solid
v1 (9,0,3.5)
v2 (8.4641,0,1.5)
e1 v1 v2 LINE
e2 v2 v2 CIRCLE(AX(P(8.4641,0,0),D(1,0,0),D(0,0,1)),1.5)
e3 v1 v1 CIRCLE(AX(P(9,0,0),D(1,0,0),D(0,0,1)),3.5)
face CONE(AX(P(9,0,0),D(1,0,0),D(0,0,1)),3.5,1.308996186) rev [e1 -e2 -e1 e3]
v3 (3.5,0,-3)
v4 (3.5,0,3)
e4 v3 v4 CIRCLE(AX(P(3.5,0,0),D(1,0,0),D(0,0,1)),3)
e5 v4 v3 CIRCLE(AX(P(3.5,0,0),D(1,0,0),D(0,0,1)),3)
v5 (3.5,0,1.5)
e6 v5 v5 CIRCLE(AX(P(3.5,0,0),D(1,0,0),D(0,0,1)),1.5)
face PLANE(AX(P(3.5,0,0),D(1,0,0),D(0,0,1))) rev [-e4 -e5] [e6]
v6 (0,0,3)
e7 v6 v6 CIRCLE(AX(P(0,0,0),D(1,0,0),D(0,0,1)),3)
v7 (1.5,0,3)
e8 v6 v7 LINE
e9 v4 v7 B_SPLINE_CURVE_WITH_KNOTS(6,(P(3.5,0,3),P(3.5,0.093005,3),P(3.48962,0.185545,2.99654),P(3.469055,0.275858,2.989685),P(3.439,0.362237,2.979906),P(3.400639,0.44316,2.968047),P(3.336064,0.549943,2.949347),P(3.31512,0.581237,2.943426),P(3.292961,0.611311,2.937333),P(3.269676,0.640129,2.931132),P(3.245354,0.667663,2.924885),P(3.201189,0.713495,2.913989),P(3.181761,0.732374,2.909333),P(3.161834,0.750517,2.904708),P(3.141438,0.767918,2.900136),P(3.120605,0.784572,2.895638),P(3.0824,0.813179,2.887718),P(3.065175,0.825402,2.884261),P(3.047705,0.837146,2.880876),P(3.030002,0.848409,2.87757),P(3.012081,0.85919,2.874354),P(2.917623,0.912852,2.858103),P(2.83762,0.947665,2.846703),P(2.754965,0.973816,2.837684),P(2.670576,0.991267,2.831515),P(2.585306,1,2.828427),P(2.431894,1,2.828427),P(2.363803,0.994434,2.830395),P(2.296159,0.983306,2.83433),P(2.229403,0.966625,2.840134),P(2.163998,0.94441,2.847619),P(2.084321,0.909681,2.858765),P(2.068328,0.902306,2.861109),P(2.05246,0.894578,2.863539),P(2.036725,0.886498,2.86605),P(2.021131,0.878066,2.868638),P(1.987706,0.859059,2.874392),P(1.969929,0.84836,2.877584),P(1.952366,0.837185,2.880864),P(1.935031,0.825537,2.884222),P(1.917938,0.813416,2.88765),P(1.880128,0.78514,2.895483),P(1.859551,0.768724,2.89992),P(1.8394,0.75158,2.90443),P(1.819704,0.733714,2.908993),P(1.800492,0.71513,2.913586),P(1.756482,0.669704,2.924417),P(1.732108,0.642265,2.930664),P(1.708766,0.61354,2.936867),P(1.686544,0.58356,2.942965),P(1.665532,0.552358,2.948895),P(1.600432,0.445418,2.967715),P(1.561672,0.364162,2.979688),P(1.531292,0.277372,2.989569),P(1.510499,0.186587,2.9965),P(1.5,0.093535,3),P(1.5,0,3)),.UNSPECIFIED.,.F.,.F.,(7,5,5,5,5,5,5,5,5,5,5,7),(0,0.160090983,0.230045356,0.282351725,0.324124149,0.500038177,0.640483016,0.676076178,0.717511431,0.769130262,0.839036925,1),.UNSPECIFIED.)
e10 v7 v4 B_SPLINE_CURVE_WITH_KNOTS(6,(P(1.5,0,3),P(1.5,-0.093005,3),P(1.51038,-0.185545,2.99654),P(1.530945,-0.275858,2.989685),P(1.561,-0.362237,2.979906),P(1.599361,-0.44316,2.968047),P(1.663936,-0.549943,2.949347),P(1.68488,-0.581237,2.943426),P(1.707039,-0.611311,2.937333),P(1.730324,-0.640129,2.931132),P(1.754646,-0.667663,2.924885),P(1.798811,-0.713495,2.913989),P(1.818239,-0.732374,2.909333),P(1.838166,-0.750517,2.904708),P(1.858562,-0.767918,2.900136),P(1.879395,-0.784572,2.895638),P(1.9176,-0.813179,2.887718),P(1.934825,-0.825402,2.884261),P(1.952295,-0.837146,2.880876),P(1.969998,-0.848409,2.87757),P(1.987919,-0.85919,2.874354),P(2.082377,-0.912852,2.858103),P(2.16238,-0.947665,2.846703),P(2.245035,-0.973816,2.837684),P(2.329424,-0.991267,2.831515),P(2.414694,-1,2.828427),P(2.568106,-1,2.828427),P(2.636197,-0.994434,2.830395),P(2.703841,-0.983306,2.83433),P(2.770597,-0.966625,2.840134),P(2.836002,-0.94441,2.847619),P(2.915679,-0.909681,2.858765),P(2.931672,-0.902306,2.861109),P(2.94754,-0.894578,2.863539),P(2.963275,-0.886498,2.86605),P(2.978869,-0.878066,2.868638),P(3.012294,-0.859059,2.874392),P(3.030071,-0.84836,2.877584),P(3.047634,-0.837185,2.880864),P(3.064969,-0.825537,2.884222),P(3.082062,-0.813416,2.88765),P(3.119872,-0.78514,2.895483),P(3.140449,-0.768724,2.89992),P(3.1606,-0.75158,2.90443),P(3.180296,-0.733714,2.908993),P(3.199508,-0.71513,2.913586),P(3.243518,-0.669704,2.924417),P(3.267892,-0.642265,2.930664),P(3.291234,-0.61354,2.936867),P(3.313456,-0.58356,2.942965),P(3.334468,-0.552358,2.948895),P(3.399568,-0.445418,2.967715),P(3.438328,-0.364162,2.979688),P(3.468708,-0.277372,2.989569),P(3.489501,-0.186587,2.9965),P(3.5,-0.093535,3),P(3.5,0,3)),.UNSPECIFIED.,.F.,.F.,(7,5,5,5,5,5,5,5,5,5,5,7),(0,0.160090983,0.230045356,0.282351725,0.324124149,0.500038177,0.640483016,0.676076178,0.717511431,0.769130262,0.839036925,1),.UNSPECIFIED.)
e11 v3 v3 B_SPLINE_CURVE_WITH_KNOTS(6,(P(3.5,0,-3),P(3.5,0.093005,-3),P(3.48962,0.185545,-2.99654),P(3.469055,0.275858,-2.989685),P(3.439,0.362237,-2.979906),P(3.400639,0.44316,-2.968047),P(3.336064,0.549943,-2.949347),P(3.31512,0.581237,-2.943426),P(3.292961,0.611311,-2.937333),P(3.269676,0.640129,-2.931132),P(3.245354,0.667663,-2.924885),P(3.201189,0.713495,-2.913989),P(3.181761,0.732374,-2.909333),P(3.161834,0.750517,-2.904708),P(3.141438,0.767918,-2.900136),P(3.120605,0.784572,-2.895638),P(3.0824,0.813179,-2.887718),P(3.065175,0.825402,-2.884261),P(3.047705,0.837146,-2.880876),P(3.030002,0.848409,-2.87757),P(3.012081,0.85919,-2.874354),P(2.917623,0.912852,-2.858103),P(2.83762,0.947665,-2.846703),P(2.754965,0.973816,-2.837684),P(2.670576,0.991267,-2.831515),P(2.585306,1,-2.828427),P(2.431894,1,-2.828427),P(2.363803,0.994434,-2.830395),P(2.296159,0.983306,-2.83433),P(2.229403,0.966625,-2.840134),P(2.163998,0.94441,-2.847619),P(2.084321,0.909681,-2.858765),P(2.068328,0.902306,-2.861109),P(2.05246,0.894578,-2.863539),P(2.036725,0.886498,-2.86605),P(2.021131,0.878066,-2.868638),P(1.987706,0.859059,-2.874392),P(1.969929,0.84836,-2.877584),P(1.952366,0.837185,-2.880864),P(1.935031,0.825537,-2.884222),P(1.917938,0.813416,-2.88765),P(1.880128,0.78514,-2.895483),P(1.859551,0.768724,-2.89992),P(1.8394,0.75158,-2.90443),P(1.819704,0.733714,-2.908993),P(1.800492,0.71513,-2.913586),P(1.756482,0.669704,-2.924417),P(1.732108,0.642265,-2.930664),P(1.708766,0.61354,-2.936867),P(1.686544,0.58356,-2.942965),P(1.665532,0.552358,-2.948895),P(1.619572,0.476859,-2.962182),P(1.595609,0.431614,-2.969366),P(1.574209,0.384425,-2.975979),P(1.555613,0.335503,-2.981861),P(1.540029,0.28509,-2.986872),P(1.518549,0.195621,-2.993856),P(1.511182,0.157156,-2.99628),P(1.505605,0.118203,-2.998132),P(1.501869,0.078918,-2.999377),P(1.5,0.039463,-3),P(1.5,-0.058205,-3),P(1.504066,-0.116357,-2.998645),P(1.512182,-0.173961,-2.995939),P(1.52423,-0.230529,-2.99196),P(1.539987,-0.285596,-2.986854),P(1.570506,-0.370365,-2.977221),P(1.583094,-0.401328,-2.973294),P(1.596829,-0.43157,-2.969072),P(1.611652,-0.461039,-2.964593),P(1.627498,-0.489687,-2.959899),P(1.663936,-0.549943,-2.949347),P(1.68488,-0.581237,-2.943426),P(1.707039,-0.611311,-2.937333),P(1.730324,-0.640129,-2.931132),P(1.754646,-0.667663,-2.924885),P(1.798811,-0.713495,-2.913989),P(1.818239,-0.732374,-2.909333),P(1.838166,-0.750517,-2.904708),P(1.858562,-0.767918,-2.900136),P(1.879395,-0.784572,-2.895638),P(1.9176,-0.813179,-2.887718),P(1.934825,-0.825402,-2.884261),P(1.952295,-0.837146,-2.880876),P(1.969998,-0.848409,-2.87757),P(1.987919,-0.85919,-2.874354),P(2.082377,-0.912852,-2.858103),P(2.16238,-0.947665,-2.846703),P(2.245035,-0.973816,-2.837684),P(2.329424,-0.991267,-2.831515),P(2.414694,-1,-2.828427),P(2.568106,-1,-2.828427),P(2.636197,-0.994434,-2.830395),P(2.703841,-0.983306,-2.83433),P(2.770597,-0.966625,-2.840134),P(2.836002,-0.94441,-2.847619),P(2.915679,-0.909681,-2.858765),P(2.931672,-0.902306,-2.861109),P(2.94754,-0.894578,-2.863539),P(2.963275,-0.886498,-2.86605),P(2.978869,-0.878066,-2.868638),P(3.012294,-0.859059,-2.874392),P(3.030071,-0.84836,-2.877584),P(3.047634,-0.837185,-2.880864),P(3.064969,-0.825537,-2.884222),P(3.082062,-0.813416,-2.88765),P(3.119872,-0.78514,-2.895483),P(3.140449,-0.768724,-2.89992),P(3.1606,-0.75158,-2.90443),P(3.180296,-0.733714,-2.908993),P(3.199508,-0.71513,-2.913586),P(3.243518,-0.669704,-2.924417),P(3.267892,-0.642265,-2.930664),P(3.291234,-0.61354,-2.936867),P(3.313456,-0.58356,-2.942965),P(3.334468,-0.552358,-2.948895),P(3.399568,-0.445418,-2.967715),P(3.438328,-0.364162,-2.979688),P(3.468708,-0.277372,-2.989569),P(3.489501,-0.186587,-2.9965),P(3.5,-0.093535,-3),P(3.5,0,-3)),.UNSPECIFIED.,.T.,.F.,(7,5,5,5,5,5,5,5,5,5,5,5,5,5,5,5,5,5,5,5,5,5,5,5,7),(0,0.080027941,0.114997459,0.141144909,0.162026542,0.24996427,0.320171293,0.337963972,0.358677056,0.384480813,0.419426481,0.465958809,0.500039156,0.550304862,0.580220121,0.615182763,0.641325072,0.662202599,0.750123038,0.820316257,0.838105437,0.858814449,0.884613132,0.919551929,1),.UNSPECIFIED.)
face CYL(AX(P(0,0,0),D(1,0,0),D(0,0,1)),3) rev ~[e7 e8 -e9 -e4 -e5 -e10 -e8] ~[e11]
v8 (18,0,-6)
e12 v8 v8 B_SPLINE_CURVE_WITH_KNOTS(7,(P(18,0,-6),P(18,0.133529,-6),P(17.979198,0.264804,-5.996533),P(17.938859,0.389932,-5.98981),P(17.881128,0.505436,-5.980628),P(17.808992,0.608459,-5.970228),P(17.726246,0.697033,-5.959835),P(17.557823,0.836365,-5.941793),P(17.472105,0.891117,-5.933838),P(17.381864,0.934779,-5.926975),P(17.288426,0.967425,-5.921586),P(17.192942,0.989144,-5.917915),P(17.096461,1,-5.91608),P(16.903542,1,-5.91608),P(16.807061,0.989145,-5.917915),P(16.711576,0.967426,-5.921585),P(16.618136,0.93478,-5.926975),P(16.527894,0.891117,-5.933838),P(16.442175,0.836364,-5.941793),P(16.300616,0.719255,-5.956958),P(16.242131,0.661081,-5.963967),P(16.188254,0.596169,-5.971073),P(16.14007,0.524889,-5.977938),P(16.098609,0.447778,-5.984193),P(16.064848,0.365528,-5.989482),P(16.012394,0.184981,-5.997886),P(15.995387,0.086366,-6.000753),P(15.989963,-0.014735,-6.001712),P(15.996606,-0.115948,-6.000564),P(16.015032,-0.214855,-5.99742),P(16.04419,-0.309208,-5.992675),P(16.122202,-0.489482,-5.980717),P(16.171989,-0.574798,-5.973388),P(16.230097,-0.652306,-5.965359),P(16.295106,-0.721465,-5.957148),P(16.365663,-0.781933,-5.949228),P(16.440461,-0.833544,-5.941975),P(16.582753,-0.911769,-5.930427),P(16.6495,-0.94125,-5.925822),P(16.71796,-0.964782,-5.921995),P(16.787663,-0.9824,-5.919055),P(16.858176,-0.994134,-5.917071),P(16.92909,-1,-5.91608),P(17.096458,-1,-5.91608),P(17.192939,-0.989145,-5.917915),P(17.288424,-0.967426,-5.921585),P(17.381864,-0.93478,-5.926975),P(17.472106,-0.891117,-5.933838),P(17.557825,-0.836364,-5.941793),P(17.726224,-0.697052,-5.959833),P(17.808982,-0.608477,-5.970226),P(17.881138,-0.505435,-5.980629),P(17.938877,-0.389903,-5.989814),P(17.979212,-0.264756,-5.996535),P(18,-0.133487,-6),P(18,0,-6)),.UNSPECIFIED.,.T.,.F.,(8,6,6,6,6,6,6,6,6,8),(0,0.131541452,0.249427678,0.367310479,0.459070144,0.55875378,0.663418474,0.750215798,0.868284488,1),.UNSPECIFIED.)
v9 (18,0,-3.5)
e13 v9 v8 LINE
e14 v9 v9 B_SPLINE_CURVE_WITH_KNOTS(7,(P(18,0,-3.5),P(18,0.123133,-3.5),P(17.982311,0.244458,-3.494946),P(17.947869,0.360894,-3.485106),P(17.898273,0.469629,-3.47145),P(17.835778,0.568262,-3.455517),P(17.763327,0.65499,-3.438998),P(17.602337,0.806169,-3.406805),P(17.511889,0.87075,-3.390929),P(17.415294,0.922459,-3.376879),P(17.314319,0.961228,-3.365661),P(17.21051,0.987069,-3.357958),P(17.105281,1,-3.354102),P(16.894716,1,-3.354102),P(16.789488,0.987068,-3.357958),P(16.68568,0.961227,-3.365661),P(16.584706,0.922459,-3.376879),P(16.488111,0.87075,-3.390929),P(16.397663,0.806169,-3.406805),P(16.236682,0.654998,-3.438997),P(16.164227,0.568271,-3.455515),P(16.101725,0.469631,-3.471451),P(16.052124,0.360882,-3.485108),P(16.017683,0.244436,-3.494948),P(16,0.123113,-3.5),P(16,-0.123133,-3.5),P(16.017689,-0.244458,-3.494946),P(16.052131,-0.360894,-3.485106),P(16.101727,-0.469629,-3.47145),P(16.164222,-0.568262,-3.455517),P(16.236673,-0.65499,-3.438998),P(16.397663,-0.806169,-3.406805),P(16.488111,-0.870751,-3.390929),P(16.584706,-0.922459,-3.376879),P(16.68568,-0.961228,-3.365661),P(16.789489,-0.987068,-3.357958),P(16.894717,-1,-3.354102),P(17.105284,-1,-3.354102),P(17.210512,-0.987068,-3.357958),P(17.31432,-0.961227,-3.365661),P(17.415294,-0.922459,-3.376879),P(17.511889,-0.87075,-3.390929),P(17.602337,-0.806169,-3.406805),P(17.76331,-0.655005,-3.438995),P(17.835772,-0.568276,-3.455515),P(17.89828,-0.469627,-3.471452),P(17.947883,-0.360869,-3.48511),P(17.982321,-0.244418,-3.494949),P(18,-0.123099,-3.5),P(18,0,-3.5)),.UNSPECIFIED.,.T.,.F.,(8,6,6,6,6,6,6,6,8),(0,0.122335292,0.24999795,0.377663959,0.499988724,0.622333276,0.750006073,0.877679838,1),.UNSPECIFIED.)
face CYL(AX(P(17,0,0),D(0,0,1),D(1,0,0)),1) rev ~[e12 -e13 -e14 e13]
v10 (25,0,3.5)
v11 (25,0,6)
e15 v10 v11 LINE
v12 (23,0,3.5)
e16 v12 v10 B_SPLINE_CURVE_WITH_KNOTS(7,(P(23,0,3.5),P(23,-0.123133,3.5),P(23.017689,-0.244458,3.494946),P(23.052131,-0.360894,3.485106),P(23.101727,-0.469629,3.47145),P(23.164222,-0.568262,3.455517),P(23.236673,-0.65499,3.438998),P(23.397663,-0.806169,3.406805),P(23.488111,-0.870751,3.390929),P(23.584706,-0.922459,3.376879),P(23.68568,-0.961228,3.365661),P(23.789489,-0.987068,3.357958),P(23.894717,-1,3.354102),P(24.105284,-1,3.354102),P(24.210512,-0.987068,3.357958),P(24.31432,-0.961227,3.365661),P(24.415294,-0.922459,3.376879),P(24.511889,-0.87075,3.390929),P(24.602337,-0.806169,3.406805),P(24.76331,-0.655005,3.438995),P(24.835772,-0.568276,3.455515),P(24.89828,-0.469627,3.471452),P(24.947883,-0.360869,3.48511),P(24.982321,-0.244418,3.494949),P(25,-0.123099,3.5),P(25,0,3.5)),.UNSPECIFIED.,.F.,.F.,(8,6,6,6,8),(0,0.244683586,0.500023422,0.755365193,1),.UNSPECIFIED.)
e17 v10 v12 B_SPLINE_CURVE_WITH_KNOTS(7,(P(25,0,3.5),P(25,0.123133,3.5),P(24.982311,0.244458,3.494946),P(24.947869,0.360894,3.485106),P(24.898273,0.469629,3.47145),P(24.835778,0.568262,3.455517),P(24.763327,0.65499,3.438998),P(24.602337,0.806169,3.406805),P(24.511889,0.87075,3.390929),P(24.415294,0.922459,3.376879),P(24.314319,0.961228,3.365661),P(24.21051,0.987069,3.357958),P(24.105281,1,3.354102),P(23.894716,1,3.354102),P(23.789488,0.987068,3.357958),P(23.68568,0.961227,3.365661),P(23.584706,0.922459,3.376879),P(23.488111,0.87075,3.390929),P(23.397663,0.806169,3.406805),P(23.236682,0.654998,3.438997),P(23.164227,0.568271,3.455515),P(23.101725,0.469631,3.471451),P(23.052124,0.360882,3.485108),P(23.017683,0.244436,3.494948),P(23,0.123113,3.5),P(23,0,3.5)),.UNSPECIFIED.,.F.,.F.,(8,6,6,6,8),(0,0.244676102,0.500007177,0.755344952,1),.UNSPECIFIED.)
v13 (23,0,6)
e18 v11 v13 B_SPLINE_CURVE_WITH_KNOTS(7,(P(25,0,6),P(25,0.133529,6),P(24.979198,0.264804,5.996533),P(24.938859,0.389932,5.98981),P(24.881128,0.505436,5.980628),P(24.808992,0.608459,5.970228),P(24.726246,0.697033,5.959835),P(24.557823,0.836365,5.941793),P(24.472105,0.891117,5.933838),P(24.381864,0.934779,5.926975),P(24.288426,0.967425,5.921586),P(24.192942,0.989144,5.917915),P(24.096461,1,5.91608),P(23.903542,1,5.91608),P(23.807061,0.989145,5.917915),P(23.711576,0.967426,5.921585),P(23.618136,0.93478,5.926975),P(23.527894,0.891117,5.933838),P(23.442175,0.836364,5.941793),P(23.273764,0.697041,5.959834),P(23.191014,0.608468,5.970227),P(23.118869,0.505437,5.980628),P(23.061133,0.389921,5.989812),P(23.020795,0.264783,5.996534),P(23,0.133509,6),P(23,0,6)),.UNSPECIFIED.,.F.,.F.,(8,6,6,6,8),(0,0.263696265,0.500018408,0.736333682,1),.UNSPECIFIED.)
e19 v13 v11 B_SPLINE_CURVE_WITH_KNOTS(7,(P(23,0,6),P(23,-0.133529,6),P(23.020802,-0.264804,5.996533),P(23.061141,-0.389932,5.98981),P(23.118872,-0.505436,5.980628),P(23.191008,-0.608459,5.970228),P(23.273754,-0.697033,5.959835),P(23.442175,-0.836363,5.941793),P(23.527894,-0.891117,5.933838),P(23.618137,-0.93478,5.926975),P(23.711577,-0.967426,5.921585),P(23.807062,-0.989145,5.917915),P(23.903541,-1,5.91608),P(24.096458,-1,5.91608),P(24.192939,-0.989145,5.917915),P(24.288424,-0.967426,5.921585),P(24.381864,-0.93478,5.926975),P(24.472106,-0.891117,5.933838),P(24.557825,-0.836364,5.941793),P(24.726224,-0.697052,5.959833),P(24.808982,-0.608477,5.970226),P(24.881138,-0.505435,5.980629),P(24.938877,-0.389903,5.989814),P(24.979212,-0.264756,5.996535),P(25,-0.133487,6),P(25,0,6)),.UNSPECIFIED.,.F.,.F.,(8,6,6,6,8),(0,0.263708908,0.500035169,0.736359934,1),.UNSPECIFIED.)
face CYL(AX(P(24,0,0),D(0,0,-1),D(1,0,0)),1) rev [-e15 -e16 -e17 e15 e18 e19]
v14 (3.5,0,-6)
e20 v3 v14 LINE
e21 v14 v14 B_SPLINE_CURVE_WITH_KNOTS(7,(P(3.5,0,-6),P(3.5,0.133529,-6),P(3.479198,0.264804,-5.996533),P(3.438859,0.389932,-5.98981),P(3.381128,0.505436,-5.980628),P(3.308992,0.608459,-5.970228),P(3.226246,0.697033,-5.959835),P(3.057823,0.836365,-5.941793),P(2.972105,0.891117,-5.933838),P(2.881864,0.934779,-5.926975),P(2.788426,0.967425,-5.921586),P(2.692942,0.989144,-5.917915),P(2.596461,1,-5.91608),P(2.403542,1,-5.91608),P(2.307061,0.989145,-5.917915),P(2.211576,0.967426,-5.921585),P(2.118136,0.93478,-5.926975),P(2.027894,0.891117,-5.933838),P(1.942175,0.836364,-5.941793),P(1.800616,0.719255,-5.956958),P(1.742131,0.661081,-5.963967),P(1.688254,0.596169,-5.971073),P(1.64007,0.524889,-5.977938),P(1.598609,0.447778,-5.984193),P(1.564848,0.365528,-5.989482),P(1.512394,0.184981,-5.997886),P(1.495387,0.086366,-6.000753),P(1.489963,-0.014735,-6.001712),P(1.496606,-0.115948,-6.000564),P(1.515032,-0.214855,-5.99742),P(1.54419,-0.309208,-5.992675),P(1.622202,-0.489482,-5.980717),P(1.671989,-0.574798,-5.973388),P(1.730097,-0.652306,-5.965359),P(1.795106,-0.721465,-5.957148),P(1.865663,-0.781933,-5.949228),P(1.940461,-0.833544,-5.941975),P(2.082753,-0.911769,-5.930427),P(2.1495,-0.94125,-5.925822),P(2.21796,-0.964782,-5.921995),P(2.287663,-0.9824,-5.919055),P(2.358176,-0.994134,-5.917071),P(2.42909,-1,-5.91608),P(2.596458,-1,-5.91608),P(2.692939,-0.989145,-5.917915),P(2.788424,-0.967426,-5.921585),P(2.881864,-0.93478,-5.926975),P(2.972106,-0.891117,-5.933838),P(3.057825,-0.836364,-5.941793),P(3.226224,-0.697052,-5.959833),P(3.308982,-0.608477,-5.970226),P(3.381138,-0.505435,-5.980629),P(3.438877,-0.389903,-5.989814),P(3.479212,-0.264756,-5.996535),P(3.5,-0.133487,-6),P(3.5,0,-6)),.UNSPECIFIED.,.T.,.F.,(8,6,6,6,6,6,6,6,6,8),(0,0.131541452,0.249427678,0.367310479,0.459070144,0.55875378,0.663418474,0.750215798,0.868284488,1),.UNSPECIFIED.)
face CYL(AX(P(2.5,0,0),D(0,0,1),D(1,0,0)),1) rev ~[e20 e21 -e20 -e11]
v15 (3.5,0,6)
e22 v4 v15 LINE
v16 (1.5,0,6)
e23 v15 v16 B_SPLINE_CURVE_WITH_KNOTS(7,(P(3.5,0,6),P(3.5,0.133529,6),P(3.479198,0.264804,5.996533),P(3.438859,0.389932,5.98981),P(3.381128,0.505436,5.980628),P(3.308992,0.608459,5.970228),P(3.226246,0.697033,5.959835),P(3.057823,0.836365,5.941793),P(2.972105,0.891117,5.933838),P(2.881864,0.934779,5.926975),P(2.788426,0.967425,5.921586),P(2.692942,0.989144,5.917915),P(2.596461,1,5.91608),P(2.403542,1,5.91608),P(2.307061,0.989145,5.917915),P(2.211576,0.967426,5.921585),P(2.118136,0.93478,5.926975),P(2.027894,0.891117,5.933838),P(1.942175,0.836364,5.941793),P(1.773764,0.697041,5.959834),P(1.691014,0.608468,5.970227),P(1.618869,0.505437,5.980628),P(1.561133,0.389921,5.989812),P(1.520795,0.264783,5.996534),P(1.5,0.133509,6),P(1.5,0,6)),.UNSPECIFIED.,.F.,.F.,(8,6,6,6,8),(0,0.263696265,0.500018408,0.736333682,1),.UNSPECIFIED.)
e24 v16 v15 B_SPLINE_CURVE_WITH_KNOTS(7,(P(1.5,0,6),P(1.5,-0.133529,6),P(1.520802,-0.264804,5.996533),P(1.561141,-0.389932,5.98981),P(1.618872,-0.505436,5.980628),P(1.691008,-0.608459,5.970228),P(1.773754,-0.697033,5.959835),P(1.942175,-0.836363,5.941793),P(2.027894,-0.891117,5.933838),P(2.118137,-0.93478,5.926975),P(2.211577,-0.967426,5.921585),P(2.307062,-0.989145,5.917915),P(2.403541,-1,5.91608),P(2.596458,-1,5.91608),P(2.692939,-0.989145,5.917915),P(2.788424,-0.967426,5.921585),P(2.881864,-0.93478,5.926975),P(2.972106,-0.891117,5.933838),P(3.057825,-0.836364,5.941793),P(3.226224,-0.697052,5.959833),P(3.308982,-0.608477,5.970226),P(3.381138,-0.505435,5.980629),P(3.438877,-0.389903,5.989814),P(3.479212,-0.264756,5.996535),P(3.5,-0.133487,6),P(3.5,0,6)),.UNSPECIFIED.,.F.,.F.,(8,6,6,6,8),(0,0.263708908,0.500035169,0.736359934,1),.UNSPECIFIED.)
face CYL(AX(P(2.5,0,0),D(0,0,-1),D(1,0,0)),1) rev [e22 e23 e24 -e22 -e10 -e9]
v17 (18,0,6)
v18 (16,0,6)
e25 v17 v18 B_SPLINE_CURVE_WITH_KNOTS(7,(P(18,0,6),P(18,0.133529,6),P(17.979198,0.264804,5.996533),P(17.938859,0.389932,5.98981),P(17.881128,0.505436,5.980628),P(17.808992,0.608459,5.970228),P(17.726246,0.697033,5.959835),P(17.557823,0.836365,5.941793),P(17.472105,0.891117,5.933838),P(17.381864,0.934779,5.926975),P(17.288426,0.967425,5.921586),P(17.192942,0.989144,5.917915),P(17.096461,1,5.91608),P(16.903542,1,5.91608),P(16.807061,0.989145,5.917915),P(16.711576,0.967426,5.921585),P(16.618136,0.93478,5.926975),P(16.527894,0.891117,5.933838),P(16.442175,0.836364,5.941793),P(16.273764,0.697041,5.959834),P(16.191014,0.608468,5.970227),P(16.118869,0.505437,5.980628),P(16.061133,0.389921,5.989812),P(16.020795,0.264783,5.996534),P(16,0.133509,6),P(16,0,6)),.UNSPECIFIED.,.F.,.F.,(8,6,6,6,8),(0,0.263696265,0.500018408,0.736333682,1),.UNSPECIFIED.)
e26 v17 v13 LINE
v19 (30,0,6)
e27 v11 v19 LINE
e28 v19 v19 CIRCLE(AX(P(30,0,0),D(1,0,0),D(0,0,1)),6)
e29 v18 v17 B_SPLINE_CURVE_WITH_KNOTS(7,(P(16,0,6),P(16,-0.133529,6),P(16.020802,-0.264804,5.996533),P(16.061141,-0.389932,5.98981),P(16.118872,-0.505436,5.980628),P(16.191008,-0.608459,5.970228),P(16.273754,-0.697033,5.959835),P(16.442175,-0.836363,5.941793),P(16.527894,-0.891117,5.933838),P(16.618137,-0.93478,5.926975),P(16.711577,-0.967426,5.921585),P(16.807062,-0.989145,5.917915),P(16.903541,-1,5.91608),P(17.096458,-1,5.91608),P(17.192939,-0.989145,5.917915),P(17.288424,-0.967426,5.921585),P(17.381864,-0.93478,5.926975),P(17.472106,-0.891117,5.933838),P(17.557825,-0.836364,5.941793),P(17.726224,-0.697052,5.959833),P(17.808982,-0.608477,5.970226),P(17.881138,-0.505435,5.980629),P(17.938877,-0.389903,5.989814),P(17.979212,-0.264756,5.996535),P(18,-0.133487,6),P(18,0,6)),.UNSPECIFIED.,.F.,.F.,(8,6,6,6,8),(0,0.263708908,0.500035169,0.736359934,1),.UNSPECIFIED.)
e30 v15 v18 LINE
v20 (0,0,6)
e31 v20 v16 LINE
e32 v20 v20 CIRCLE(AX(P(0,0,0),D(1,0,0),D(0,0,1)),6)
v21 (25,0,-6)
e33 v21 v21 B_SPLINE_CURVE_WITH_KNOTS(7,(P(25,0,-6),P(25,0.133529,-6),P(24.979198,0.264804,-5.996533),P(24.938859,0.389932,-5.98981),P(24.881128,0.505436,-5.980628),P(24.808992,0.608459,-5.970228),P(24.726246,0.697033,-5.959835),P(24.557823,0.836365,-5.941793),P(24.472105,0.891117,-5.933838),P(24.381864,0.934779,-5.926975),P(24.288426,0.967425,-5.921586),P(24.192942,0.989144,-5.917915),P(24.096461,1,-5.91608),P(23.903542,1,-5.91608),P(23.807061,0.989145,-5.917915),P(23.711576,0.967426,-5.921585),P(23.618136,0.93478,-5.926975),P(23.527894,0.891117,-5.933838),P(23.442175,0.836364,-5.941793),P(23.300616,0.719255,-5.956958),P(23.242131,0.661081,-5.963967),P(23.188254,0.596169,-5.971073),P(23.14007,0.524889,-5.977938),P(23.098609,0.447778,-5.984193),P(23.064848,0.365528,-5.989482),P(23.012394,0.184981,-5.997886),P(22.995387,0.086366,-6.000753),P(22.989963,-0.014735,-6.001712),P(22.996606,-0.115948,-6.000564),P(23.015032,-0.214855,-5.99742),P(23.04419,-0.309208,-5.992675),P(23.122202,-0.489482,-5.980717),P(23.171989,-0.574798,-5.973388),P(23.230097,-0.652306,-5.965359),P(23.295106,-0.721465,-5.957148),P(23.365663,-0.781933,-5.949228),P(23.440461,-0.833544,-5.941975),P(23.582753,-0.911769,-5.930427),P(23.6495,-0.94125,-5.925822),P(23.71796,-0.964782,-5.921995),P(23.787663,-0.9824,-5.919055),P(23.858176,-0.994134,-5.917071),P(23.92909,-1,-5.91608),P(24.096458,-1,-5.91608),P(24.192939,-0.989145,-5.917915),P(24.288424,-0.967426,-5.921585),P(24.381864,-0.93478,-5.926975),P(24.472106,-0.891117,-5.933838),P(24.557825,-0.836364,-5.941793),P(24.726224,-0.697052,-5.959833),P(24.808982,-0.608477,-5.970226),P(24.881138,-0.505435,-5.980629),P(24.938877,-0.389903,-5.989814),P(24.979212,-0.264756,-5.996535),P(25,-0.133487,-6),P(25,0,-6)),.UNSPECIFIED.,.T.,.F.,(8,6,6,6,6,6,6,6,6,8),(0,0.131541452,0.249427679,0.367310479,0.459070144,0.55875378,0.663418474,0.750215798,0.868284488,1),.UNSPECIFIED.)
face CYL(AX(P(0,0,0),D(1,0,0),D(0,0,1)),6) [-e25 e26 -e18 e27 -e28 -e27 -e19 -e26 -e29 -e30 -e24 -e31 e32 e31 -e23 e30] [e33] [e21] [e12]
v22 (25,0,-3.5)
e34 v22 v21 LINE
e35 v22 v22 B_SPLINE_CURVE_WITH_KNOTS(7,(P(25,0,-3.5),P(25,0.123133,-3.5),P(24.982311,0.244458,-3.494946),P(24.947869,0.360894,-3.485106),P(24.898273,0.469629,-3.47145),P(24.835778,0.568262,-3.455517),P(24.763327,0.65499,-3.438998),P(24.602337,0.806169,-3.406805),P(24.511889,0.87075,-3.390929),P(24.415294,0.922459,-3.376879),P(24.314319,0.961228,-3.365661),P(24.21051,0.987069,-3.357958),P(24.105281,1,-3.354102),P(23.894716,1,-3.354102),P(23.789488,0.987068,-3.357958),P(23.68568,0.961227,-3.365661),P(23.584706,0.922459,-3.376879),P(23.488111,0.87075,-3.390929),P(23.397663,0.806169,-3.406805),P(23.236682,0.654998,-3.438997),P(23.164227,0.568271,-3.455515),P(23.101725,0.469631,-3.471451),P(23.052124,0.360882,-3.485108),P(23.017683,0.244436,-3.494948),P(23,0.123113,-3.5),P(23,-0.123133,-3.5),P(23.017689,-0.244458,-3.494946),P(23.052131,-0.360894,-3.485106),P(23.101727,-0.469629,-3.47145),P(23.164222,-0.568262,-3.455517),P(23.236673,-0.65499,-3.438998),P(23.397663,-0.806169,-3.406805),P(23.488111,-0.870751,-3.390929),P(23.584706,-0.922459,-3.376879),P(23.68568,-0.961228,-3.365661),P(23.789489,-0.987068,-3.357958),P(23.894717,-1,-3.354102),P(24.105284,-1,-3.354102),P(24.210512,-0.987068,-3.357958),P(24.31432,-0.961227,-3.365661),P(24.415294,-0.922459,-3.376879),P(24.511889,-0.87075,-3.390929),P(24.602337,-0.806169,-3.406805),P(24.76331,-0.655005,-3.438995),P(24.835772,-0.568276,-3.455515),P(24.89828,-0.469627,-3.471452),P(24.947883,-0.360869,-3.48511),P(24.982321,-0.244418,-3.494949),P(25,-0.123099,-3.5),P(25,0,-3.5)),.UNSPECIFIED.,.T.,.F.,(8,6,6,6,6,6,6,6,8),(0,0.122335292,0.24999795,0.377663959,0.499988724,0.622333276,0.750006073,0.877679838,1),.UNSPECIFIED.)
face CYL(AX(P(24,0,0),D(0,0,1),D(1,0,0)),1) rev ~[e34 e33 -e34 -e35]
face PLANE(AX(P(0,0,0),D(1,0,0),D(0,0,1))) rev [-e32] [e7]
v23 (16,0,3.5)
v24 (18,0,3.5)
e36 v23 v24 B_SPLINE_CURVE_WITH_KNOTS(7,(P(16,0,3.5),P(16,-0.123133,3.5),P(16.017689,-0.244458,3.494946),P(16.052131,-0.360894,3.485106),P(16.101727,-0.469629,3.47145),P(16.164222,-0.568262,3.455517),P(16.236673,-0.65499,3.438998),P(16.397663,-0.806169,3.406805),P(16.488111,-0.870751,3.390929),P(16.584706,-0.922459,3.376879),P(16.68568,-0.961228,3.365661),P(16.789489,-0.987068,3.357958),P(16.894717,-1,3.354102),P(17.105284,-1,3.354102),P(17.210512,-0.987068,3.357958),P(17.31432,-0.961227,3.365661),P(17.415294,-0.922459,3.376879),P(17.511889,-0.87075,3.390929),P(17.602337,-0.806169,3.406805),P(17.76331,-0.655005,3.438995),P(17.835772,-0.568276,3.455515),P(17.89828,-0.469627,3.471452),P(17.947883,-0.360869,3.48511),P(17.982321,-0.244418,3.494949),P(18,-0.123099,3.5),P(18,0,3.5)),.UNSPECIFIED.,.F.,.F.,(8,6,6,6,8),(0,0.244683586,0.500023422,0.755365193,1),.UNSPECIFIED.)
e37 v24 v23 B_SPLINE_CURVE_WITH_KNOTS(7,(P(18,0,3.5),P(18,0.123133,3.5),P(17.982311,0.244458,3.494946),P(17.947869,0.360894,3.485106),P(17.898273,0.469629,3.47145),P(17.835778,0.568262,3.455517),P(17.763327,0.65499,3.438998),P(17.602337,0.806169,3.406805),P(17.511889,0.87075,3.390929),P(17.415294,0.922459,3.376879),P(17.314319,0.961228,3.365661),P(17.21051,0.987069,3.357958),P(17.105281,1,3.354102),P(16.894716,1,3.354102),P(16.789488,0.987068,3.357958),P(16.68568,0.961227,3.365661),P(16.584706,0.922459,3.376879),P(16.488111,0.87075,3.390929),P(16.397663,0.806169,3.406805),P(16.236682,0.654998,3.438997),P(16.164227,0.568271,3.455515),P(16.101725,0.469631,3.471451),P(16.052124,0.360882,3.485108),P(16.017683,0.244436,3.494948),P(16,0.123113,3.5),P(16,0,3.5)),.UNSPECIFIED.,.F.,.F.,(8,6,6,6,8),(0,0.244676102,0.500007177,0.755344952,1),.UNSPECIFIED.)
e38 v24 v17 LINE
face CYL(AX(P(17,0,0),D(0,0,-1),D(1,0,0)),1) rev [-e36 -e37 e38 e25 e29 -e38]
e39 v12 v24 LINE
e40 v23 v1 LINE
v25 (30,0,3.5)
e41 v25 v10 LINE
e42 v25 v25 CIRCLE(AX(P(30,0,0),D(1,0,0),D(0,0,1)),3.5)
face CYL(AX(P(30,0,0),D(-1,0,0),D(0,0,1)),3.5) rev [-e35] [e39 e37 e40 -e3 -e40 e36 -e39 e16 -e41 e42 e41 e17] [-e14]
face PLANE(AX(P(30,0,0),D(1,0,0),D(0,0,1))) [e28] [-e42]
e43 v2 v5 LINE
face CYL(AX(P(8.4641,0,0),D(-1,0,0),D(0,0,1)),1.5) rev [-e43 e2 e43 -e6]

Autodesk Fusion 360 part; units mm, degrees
sketch "Boceto1" plane through (0, 0, 0) normal (0, 1, 0) x (1, 0, 0)
  line L0 (0, -3) -> (0, -6)
  line L1 (0, -6) -> (30, -6)
  line L2 (30, -6) -> (30, -3.5)
  line L3 (30, -3.5) -> (9, -3.5)
  line L4 (9, -3.5) -> (8.4641, -1.5)
  line L5 (8.4641, -1.5) -> (3.5, -1.5)
  line L6 (3.5, -1.5) -> (3.5, -3)
  line L7 (0, -3) -> (3.5, -3)
  line L8 (0, 0) -> (32.7199, 0) construction
  dimension "d2" = 21
  dimension "d3" = 3.5
  dimension "d4" = 30
  dimension "d8" = 3
  dimension "d9" = 1.5
  dimension "d10" = 6
  dimension "d11" = 3.5
  dimension "d13" = 75
revolve "Revolución1" add sketch "Boceto1" angle 360 about axis through (0, 0, 0) along (1, 0, 0)
sketch "Boceto2" plane through (0, 0, 0) normal (0, 0, 1) x (1, 0, 0)
  circle A0 centre (24, 0) radius 1
  circle A1 centre (17, 0) radius 1
  circle A2 centre (2.5, 0) radius 1
  point P0 (30, 0)
  dimension "d15" = 2.5
  dimension "d16" = 2
  dimension "d17" = 2
  dimension "d18" = 2
  dimension "d19" = 6
  dimension "d20" = 13
extrude "Extruir1" cut sketch "Boceto2" along normal mid plane 14
